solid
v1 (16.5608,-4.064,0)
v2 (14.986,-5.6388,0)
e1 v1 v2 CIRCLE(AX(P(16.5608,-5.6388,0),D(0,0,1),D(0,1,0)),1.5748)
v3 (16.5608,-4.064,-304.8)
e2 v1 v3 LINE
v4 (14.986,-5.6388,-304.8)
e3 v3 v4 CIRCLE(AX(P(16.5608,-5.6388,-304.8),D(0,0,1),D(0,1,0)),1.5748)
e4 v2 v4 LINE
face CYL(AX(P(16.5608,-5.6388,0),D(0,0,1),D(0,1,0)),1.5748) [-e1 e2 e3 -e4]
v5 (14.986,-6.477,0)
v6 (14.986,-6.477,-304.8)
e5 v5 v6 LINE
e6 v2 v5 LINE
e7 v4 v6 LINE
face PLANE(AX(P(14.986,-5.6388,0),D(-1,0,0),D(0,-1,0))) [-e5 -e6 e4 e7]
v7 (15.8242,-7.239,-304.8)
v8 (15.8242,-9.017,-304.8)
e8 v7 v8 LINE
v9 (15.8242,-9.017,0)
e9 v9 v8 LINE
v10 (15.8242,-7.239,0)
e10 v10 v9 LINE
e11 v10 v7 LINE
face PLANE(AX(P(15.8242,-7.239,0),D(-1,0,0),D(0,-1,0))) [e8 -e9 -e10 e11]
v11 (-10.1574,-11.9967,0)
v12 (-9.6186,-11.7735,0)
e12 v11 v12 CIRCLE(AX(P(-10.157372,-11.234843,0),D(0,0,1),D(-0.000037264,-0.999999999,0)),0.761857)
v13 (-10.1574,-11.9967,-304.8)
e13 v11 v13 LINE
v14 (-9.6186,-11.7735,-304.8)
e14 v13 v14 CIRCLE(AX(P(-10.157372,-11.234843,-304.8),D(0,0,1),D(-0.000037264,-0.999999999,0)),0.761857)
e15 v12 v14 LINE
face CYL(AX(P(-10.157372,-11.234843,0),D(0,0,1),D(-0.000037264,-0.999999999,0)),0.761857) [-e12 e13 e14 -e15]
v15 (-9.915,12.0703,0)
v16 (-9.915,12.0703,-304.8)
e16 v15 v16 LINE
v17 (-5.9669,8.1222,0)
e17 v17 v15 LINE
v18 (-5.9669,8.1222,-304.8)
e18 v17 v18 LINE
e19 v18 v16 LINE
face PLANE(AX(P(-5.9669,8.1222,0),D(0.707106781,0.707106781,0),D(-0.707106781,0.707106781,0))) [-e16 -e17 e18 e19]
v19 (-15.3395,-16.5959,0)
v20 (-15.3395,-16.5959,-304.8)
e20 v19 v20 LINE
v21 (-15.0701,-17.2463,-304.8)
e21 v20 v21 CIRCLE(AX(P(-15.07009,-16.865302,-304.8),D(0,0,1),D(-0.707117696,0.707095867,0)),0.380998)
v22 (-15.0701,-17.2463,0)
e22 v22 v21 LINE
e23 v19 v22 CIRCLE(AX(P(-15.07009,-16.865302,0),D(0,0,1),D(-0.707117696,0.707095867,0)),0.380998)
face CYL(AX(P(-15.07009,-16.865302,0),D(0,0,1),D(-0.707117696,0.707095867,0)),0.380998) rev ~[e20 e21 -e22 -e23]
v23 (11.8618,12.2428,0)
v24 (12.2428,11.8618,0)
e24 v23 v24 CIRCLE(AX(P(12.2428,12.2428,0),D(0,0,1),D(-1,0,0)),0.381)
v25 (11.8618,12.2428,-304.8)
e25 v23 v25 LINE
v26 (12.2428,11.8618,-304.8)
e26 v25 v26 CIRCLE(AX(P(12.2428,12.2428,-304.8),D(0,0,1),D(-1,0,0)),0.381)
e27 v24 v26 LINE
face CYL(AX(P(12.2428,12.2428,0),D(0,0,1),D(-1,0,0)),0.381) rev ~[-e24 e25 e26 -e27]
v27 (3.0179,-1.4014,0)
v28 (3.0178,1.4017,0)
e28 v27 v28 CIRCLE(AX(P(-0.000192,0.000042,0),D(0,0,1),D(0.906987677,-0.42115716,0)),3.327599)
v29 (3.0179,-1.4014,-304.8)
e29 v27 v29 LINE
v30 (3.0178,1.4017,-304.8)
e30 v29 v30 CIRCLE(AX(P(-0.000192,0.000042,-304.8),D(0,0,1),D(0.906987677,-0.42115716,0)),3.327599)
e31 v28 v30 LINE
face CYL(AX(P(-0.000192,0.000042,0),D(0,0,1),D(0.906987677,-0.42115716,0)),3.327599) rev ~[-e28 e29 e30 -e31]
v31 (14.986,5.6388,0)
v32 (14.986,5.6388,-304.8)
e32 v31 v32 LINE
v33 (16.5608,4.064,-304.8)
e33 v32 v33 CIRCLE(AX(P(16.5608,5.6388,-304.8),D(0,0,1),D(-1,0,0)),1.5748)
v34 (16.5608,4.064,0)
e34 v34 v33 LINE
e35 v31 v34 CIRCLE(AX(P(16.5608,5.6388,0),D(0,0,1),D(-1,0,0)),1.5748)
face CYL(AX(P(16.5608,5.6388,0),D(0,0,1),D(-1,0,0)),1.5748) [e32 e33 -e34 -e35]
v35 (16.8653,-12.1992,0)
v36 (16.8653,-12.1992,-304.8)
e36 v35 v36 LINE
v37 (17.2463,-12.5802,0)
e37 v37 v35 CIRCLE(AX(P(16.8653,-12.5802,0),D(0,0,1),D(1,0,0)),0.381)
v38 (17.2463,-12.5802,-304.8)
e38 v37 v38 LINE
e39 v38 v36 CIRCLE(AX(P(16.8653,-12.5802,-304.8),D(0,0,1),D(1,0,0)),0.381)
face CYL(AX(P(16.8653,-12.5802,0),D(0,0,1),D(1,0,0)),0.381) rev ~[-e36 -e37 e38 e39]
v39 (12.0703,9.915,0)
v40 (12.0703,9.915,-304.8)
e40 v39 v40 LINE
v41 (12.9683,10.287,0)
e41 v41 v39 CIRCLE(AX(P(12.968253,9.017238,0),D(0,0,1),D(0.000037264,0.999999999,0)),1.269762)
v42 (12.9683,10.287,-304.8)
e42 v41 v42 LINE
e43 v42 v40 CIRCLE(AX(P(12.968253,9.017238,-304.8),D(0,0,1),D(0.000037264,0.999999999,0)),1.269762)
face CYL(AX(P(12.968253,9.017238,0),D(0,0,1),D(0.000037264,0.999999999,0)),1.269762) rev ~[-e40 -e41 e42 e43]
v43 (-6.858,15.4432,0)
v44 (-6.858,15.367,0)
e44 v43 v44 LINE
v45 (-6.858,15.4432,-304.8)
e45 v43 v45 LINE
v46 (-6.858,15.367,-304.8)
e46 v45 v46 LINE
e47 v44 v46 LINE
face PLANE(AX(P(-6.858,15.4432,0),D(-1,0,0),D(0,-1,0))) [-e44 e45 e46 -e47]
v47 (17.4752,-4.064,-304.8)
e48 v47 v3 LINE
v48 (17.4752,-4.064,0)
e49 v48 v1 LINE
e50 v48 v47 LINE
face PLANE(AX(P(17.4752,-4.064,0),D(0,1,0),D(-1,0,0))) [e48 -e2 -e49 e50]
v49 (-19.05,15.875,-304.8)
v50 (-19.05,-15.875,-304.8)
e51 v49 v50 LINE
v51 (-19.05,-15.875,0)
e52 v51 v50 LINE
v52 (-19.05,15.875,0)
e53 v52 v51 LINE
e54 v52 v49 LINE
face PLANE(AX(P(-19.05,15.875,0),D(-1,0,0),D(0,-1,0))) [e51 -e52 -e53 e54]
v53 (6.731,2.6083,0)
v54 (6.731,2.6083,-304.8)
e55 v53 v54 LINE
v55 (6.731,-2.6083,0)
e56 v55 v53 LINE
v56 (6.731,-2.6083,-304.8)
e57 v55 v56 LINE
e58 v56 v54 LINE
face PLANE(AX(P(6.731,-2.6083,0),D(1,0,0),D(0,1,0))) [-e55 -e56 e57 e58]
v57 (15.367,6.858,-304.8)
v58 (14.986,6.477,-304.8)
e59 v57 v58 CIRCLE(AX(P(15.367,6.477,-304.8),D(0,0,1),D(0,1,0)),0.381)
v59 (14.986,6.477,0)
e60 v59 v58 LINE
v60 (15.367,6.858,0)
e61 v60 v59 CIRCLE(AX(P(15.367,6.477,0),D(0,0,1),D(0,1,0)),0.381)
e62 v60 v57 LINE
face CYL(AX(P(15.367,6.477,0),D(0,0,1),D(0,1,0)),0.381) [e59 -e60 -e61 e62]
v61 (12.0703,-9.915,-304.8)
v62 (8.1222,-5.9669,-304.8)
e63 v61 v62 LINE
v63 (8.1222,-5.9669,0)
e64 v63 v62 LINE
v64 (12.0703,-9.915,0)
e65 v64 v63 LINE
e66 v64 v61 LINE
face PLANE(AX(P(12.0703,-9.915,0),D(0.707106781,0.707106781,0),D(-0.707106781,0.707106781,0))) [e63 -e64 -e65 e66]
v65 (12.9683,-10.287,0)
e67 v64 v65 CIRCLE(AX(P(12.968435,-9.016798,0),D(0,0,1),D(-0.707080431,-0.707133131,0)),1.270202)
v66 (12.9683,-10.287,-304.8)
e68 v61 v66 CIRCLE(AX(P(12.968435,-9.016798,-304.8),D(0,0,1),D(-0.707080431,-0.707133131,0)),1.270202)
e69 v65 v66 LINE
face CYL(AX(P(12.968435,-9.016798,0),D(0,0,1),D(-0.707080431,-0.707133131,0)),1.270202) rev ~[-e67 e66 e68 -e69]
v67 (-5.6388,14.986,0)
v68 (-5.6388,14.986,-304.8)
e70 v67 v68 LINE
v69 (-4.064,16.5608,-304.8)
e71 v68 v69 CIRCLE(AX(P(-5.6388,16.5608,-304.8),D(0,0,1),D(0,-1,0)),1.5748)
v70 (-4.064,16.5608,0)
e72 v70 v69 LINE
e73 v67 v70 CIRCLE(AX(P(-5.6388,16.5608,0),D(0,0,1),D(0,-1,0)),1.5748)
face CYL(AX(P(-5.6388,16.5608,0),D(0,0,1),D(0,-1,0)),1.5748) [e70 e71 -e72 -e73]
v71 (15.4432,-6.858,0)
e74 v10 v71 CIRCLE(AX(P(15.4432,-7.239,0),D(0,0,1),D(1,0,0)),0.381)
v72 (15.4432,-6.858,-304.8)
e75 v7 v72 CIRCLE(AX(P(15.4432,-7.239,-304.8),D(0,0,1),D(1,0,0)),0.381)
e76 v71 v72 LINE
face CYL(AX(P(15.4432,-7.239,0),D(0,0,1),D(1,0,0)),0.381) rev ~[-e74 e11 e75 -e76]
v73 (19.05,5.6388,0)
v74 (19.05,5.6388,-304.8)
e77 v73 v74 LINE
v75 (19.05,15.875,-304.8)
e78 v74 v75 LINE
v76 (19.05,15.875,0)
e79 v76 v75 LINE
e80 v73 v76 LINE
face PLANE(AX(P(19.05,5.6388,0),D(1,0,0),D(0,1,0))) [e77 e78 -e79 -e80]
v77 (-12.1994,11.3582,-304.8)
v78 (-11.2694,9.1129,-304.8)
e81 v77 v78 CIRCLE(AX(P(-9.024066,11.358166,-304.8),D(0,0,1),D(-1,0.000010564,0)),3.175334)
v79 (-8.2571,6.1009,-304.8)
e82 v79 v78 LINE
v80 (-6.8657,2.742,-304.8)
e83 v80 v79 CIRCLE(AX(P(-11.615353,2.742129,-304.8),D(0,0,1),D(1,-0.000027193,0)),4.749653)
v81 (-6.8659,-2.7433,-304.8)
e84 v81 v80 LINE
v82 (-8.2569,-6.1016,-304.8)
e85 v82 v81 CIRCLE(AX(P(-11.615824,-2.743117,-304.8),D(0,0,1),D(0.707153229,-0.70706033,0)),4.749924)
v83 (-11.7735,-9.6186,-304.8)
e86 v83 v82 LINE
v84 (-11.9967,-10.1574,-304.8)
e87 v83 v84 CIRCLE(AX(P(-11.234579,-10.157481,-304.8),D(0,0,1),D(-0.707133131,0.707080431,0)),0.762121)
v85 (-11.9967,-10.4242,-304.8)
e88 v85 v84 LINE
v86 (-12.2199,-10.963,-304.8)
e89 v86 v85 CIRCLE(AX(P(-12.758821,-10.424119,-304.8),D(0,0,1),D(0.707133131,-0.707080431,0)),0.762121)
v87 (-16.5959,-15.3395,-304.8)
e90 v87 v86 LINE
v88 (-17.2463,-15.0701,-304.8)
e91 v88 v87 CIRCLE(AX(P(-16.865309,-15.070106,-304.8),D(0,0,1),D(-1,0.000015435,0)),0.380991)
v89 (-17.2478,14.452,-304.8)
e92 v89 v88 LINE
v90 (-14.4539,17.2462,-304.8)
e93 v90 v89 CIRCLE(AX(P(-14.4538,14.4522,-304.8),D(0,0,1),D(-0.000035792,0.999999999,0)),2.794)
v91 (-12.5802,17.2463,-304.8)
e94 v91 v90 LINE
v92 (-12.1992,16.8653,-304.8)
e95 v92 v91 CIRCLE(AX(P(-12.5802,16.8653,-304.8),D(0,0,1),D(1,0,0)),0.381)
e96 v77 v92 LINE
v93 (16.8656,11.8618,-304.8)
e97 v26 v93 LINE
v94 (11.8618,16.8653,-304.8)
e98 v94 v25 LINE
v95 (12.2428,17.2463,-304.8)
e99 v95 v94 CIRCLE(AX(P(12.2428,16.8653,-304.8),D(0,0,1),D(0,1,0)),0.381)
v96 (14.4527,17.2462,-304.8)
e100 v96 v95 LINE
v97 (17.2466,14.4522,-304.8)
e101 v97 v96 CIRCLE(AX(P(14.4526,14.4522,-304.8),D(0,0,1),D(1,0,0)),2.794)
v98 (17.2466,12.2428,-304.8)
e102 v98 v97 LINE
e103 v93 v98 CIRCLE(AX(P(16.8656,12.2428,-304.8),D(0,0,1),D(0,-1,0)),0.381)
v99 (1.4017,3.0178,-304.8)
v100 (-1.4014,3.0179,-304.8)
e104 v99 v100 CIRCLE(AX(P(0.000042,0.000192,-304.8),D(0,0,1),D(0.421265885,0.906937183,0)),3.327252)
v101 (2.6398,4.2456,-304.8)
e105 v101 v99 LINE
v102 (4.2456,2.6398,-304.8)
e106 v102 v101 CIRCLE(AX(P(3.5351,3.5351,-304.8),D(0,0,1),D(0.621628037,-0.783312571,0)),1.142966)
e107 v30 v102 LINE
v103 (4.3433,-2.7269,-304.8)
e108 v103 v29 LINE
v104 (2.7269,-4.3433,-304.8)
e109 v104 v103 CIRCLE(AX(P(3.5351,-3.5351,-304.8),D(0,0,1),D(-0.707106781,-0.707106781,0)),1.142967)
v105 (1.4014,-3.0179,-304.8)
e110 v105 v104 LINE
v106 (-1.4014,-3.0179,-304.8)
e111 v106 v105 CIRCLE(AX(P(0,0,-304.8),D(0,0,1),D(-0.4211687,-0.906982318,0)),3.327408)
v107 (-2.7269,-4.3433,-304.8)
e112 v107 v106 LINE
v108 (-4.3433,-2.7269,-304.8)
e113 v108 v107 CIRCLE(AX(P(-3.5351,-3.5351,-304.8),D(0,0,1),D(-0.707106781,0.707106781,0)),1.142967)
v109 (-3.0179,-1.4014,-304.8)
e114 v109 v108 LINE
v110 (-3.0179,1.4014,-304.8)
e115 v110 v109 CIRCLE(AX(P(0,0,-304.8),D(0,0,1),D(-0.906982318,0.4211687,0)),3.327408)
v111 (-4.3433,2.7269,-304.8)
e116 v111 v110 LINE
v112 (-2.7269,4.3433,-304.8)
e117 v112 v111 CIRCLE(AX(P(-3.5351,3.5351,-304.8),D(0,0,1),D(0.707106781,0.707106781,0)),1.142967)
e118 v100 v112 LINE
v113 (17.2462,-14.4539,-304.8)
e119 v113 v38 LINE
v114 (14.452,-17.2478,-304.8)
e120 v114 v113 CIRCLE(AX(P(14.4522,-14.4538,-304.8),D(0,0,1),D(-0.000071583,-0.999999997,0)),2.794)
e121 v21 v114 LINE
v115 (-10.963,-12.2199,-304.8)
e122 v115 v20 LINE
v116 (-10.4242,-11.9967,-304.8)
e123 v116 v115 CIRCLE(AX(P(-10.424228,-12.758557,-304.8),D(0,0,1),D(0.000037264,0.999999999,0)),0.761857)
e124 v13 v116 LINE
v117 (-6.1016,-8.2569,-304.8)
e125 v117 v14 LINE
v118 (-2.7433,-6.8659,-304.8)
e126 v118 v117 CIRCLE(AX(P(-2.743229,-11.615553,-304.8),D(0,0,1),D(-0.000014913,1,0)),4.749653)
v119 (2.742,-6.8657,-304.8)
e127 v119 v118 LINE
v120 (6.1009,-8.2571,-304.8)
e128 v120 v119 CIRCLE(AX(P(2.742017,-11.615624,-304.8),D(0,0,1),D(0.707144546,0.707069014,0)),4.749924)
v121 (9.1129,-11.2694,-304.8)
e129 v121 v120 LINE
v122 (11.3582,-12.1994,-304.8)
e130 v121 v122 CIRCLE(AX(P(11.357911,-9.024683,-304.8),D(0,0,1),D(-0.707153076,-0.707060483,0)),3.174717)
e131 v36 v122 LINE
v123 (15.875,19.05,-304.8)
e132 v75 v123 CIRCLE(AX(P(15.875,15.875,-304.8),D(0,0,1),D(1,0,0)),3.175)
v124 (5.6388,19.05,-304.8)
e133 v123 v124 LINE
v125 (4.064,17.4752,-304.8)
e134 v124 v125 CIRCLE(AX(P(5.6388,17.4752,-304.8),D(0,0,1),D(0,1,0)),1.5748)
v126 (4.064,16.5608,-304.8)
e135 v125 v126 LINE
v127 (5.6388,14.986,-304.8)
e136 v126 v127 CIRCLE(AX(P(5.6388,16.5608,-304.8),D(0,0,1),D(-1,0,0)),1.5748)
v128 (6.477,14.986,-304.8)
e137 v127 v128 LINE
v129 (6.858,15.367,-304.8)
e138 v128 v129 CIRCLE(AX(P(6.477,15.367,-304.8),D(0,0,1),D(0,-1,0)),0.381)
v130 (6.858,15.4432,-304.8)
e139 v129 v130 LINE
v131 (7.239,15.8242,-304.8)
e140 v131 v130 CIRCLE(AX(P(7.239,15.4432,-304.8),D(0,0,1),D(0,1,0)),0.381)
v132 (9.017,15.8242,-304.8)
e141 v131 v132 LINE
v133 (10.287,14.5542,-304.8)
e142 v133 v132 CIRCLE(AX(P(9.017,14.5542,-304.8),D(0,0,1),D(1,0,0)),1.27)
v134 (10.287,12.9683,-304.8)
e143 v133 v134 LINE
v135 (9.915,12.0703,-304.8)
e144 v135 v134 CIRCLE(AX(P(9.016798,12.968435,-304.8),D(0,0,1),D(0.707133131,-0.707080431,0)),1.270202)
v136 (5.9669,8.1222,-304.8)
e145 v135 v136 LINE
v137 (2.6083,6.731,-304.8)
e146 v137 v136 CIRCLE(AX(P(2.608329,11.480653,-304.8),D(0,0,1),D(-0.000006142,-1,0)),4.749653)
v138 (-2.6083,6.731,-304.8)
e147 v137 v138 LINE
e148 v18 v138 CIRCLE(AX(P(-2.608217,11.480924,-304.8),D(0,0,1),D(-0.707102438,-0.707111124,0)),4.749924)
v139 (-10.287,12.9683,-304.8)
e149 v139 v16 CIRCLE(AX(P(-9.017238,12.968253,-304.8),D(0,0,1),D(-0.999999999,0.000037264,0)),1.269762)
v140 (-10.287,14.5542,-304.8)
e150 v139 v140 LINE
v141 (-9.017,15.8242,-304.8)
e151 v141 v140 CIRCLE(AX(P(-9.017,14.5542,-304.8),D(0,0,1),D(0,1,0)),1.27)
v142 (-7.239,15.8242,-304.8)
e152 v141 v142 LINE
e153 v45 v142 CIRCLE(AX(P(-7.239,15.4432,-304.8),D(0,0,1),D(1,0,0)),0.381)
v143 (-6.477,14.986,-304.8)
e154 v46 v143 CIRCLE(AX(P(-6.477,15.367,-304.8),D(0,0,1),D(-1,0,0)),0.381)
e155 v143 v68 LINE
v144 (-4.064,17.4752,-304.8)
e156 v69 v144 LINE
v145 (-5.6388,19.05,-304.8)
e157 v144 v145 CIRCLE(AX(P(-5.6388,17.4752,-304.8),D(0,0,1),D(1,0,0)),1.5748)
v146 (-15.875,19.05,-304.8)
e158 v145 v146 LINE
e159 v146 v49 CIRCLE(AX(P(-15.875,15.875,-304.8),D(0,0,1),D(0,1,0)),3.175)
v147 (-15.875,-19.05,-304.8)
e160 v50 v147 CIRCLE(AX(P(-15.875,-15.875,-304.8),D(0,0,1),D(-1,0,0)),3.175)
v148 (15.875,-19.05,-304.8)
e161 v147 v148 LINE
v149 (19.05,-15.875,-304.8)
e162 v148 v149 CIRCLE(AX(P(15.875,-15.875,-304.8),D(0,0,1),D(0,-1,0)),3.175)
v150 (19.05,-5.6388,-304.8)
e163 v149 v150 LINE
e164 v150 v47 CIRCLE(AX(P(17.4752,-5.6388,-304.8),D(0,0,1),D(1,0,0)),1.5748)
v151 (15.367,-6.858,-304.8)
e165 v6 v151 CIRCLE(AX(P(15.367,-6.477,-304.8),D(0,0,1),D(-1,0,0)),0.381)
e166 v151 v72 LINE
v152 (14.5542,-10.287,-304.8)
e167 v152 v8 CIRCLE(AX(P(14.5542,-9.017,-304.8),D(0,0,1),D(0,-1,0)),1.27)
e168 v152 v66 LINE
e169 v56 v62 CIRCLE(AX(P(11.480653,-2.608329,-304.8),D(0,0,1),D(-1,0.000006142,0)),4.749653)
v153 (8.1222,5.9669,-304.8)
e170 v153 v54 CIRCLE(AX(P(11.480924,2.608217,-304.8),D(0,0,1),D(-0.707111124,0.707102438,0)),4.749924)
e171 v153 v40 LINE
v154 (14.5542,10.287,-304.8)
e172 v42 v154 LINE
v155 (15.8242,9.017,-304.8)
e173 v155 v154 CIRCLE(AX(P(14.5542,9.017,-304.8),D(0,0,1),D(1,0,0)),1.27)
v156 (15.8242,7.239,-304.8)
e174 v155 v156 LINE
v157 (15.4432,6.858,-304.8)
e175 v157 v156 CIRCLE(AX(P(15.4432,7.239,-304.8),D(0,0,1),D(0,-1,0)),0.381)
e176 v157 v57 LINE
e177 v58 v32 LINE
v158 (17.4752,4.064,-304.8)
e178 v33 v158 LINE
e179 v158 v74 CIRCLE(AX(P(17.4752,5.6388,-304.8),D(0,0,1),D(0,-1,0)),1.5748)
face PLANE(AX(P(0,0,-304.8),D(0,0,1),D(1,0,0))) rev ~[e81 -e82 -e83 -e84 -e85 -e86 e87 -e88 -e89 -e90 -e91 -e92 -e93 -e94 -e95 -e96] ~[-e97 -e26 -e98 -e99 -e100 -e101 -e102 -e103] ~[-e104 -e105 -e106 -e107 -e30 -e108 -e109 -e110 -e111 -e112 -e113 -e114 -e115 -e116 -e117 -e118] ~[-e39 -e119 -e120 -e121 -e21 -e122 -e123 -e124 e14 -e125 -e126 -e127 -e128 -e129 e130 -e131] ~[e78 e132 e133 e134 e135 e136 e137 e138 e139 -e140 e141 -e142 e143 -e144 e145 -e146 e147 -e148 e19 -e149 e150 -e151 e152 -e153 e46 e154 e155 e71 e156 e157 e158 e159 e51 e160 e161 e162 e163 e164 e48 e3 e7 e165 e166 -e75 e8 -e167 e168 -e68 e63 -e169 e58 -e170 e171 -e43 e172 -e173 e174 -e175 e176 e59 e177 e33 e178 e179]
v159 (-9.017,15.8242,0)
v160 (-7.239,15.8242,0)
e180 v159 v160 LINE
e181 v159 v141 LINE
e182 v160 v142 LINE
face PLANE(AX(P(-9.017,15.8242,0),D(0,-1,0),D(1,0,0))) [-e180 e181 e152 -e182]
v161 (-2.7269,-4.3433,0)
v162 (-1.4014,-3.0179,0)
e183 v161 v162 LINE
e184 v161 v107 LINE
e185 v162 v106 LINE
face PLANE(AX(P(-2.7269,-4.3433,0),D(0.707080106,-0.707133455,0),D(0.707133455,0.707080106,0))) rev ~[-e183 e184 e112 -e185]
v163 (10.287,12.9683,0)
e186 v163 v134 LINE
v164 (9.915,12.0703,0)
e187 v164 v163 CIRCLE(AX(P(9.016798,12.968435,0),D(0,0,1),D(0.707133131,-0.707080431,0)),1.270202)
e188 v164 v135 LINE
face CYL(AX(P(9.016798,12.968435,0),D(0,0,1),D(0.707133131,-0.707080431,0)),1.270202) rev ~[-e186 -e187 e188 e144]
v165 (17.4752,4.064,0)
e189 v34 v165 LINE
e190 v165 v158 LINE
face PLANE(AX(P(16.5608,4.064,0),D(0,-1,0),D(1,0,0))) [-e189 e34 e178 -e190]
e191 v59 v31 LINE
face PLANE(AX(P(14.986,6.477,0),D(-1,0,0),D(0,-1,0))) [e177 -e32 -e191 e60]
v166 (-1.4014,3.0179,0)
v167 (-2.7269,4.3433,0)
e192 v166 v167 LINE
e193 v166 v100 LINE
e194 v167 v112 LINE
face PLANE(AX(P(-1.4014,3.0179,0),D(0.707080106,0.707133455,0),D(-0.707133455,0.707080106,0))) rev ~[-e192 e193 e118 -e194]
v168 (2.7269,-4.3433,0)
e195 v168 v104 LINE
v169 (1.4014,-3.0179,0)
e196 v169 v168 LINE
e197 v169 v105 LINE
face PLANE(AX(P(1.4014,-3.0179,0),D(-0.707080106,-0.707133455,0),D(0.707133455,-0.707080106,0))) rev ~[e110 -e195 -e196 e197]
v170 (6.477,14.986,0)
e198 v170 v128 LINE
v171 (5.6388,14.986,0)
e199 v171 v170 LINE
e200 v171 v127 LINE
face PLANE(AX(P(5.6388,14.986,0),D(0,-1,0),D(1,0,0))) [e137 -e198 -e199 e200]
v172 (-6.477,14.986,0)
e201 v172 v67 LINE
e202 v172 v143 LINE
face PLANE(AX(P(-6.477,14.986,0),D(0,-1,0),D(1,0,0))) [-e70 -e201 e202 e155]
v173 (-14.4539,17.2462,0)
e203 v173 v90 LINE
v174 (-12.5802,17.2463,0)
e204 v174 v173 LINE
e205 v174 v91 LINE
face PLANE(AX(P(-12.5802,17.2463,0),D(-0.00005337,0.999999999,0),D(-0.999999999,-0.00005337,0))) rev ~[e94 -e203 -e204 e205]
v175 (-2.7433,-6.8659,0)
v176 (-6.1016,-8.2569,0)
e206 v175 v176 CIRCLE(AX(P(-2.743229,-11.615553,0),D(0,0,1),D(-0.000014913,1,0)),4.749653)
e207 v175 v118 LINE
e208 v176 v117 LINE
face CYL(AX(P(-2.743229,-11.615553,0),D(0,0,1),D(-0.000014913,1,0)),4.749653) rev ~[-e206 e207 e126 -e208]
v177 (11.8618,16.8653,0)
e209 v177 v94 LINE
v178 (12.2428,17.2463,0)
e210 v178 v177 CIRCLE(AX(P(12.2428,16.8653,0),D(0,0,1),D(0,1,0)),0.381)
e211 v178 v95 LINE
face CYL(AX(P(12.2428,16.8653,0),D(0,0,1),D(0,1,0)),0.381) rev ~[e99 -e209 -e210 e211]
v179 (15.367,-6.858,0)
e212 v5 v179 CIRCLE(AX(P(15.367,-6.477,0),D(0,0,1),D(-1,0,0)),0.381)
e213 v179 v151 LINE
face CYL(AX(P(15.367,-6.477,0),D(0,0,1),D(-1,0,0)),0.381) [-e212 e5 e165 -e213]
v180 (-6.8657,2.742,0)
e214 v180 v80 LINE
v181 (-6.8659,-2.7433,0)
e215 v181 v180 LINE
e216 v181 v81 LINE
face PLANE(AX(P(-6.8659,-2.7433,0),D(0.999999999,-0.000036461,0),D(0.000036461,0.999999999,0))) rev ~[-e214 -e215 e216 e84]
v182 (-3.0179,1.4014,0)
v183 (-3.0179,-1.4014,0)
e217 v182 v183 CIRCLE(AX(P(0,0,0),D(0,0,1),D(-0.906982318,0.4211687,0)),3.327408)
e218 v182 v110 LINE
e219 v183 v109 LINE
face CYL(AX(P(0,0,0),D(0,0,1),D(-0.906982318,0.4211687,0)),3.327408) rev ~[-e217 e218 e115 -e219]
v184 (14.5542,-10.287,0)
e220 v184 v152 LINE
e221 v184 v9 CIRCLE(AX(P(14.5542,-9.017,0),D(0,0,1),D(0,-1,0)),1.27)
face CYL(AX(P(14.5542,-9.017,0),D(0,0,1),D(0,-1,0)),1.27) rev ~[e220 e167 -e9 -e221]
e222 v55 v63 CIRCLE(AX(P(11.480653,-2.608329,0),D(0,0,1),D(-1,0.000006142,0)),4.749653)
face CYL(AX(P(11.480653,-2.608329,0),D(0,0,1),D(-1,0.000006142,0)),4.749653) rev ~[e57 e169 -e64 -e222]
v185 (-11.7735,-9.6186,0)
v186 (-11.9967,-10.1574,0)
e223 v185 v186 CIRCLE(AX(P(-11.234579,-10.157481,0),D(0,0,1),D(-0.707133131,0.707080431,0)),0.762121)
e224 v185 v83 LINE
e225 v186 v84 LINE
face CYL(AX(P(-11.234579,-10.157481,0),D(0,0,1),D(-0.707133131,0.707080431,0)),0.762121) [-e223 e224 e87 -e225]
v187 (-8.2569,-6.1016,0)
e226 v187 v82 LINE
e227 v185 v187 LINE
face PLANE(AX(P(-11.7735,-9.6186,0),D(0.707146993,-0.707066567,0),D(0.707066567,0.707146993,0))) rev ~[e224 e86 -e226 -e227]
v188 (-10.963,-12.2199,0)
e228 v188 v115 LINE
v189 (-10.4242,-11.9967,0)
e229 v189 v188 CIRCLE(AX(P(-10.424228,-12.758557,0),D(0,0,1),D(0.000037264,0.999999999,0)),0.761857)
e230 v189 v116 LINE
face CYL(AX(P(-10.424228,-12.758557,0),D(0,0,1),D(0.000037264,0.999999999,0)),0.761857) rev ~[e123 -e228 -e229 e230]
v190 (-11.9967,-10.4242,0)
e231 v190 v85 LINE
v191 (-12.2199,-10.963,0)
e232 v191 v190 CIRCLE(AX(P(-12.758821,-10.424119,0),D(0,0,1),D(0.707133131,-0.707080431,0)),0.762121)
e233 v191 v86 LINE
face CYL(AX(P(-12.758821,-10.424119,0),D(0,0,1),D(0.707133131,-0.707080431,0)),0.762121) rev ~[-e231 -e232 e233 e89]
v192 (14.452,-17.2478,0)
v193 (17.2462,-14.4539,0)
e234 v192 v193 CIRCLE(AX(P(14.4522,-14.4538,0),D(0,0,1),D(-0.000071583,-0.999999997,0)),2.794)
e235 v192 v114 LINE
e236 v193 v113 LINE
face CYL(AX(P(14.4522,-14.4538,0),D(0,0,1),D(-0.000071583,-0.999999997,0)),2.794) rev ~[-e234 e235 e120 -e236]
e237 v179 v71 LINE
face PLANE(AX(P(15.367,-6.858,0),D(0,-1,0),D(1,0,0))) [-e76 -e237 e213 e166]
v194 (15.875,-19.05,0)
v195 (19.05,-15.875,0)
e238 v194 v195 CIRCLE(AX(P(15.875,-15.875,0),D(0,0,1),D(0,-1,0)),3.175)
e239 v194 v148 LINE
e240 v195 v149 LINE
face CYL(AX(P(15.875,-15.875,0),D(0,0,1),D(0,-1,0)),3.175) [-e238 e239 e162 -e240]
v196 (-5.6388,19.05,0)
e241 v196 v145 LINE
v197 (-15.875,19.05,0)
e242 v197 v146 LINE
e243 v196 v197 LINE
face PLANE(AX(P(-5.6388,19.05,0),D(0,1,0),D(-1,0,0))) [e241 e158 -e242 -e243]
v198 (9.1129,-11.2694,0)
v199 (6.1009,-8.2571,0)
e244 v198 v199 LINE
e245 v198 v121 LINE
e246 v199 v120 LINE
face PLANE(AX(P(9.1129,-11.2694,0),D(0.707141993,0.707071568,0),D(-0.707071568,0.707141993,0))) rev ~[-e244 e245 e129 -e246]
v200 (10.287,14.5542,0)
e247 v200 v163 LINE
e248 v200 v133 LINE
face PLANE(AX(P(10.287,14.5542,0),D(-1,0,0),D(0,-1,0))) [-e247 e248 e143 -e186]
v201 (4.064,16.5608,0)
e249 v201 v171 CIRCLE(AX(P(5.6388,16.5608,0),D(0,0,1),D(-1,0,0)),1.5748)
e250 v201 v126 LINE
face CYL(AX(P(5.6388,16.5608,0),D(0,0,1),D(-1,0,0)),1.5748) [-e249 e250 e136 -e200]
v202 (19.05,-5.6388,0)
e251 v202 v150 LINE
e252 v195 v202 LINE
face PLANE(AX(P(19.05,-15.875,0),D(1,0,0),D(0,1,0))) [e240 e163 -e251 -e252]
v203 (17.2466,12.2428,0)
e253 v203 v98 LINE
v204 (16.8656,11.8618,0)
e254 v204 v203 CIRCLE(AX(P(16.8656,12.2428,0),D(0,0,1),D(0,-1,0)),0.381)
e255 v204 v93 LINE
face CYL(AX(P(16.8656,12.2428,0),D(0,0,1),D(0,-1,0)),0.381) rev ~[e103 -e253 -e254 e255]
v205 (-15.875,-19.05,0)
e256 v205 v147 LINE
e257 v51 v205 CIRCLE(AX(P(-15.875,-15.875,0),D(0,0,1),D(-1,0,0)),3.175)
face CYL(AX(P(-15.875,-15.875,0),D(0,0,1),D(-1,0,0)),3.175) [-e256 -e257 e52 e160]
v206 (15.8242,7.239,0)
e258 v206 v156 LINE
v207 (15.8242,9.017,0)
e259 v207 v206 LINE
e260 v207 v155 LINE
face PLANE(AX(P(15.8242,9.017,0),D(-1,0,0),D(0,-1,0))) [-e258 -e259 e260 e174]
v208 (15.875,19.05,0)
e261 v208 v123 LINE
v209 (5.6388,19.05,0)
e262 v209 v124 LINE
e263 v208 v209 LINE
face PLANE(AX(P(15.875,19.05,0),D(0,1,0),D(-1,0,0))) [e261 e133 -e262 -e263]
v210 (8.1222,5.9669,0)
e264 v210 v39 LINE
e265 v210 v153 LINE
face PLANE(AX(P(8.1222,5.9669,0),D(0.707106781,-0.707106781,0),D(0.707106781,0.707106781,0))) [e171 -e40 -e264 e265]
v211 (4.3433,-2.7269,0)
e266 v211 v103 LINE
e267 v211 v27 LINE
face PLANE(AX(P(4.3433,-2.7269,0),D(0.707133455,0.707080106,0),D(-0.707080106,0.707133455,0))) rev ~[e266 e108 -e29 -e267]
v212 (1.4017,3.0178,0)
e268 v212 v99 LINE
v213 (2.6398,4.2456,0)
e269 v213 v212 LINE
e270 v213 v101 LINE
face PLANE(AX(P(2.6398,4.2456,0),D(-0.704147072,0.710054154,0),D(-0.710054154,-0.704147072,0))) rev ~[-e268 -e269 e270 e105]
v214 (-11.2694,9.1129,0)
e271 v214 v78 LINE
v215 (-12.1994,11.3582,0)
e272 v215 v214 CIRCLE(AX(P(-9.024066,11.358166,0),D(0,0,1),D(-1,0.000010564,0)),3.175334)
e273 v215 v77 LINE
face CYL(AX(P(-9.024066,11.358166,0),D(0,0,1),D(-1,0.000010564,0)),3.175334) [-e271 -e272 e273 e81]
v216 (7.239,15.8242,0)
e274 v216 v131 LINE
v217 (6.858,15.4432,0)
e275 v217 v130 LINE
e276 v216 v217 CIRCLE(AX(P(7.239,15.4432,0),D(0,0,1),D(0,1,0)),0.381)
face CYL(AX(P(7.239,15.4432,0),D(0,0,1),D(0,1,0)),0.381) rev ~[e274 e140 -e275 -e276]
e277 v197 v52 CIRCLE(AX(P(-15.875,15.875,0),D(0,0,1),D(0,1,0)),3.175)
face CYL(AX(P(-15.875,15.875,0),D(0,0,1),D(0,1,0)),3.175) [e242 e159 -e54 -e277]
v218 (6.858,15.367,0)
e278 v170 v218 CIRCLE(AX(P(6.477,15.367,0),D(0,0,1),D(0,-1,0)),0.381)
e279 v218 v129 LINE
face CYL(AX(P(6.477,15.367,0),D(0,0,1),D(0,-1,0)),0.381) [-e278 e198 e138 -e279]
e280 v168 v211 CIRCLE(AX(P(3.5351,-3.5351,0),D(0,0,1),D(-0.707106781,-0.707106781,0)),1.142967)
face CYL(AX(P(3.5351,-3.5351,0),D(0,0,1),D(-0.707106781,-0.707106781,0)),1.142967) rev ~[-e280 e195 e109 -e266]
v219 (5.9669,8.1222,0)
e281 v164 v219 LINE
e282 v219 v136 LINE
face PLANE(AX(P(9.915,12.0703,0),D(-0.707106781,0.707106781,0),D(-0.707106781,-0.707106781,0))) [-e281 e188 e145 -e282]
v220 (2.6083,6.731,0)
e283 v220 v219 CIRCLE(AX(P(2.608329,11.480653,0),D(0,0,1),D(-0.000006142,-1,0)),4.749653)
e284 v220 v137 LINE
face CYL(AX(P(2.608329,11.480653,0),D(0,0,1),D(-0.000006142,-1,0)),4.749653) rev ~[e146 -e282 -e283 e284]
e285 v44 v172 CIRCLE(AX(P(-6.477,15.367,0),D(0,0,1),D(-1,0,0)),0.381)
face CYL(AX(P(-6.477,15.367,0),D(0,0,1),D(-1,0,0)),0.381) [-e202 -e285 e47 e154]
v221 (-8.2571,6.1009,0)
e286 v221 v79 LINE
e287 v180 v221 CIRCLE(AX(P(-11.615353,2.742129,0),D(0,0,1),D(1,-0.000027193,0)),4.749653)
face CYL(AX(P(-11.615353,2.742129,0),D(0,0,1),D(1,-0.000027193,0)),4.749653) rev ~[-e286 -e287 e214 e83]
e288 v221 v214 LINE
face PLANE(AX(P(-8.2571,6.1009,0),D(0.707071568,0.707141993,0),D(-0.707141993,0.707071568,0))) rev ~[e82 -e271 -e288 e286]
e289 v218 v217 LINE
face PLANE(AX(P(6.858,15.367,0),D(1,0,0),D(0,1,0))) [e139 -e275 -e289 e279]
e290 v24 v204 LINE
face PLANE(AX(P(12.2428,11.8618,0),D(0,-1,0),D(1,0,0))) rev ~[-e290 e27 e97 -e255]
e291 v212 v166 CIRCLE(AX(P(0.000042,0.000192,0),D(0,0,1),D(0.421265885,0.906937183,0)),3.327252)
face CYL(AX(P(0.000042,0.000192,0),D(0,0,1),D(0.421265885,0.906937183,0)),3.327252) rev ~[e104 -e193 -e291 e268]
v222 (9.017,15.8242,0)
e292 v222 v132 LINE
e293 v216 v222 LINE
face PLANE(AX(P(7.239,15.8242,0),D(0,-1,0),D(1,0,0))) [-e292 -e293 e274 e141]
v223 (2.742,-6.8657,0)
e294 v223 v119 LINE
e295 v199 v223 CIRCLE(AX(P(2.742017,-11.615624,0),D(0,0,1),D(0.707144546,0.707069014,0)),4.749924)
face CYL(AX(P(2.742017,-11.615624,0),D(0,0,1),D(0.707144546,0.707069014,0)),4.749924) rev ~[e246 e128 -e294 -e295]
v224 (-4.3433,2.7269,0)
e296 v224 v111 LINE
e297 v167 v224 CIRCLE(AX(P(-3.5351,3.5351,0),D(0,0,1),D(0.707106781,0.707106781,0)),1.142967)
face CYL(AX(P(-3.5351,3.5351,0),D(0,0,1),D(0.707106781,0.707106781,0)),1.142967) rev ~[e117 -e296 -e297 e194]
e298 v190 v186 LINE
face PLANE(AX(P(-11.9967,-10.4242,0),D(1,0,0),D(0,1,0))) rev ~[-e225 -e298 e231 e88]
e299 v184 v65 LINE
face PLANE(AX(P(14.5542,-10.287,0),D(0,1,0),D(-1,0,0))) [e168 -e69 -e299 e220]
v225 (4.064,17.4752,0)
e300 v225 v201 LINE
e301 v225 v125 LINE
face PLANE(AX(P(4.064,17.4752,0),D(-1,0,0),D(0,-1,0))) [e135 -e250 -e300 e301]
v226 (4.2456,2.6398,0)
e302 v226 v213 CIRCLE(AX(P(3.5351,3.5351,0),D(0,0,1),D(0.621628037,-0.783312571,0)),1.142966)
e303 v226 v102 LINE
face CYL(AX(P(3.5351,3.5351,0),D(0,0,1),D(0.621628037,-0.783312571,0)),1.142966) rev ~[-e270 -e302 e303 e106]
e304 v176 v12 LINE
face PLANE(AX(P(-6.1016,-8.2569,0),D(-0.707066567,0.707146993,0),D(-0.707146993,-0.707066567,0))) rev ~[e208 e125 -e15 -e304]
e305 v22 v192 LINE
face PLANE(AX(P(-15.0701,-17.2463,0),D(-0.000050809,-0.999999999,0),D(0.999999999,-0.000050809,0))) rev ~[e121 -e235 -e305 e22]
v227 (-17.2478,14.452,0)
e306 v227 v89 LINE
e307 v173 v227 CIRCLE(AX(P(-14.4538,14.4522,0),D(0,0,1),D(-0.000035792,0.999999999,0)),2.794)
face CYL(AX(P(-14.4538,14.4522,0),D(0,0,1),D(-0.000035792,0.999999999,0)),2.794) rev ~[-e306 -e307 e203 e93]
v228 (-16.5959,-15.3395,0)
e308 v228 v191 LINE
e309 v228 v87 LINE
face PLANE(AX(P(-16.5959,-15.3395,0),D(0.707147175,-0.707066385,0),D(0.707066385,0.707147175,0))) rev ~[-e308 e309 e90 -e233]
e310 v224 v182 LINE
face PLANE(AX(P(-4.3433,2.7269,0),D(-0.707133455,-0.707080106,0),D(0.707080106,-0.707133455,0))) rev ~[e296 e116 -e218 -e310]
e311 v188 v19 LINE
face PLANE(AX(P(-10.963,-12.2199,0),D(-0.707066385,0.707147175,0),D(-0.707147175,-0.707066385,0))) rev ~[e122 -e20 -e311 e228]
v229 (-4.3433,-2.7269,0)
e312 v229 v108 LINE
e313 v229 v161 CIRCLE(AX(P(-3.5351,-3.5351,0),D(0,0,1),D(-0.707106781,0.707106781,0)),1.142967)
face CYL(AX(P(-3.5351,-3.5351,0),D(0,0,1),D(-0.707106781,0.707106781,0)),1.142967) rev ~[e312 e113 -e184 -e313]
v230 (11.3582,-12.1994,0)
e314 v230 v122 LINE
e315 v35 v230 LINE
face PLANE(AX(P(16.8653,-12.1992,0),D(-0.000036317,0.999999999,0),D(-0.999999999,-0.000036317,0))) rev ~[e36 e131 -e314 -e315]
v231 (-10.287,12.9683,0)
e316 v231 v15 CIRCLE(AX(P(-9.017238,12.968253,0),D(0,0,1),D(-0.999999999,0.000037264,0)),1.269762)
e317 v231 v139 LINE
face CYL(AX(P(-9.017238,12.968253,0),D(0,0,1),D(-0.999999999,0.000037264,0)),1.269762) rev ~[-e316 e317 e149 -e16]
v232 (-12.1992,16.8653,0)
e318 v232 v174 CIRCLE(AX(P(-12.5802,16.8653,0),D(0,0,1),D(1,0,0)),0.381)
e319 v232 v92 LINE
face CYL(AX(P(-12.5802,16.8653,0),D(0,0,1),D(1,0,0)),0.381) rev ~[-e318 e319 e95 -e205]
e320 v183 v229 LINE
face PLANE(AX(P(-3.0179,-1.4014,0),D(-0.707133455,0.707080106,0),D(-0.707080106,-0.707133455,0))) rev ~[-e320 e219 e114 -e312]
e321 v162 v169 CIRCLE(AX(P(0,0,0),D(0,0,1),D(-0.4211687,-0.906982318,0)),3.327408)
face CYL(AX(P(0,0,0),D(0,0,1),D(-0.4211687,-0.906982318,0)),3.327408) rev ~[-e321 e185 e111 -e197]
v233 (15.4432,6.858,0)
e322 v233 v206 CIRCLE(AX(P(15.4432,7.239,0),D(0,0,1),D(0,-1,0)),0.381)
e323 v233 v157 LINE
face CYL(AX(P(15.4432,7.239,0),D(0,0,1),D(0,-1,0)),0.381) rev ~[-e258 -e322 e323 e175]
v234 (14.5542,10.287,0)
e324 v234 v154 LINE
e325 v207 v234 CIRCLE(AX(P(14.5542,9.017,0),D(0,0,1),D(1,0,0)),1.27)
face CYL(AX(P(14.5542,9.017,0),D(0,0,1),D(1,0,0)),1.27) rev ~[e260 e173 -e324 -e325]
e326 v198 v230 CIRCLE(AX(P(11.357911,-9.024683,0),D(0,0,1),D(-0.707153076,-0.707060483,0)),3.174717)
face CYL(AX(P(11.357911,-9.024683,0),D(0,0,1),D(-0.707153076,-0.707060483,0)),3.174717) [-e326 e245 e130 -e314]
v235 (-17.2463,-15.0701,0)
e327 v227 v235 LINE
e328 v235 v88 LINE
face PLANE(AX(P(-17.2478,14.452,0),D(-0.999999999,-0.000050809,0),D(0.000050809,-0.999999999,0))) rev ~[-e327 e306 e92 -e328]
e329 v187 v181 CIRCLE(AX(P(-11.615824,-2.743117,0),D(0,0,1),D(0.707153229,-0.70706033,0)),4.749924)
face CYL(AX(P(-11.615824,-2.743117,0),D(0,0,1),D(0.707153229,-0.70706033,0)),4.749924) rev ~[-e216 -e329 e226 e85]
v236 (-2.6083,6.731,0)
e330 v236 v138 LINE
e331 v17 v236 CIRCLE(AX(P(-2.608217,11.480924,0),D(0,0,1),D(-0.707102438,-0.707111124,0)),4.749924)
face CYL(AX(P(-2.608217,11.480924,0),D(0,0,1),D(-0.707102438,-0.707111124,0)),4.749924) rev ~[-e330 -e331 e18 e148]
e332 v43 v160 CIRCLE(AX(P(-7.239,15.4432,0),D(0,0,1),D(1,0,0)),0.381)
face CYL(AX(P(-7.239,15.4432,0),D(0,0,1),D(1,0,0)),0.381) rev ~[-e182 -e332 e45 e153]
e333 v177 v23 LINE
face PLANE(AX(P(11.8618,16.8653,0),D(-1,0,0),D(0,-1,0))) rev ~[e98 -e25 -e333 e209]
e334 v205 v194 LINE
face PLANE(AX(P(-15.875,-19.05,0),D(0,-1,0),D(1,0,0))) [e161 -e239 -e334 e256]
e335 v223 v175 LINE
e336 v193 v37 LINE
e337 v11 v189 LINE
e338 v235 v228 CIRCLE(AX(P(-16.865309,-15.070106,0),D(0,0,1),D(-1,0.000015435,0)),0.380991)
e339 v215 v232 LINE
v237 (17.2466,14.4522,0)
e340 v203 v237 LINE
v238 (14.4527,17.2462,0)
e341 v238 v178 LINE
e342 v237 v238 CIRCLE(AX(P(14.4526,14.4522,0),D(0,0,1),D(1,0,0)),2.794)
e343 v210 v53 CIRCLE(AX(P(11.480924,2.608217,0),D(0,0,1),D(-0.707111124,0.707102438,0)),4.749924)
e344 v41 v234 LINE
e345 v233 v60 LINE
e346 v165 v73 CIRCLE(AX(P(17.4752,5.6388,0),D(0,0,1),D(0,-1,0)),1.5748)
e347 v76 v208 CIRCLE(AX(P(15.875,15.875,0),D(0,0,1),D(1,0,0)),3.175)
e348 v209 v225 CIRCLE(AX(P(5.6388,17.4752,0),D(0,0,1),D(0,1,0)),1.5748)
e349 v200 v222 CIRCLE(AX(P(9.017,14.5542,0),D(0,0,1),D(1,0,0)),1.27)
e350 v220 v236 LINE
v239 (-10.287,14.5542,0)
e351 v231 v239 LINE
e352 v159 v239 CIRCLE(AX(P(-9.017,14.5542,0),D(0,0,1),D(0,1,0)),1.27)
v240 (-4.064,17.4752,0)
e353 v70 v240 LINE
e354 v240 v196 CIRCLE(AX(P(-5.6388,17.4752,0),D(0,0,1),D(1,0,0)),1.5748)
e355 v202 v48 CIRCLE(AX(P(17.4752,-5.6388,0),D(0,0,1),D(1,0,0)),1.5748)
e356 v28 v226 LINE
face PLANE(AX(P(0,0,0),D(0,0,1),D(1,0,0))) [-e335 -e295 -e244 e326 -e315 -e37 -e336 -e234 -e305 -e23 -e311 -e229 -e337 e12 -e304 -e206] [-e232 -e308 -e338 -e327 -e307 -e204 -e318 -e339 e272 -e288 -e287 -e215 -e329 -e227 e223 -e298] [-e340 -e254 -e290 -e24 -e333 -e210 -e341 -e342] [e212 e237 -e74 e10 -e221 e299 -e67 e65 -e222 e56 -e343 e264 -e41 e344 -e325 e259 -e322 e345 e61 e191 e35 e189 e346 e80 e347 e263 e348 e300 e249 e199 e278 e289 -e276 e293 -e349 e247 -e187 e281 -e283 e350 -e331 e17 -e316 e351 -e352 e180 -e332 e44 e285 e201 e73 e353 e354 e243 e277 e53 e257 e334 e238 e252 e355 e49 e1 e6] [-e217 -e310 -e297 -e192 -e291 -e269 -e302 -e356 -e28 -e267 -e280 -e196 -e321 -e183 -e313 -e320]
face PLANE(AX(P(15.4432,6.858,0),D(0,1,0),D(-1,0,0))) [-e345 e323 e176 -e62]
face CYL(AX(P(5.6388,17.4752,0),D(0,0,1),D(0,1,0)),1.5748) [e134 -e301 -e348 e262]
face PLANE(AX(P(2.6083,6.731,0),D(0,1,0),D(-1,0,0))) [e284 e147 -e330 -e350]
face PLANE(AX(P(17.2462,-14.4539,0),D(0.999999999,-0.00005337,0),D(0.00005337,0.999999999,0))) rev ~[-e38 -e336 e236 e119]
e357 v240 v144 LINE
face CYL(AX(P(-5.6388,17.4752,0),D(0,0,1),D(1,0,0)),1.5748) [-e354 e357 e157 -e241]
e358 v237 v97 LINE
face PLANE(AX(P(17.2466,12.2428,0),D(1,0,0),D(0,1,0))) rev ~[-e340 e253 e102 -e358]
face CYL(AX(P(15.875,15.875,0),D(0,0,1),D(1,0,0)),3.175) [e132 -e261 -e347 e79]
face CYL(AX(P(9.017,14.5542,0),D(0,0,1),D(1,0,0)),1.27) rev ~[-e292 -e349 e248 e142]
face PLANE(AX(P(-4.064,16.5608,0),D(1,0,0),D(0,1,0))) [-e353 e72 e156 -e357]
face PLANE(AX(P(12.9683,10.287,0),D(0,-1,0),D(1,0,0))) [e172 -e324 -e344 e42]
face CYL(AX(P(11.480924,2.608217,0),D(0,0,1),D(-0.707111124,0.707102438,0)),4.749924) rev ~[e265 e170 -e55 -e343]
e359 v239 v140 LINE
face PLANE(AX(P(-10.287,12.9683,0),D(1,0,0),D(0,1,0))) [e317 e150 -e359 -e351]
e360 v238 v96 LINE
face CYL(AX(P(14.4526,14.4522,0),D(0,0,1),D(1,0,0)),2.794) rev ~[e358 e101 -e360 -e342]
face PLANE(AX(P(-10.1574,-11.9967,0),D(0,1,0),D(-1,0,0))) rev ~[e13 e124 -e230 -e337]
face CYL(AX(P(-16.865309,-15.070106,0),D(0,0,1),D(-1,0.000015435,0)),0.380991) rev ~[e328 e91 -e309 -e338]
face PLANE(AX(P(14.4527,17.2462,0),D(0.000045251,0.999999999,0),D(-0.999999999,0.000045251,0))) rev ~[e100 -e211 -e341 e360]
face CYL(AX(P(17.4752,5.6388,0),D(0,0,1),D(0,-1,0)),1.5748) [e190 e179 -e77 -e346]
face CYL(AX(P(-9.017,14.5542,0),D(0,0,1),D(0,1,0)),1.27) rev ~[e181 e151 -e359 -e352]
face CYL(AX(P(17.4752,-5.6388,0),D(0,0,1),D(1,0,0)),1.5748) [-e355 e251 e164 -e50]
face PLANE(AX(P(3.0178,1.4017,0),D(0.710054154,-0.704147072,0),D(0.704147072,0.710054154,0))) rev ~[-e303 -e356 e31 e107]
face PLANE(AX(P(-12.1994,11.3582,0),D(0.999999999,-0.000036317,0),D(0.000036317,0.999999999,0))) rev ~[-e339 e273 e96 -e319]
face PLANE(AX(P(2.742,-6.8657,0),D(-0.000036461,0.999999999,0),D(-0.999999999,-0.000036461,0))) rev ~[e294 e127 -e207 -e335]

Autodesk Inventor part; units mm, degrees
ref_plane "YZ Plane" through (0, 0, 0) normal (1, 0, 0) x (0, 1, 0)
ref_plane "XZ Plane" through (0, 0, 0) normal (0, 1, 0) x (-1, 0, 0)
ref_plane "XY Plane" through (0, 0, 0) normal (0, 0, 1) x (1, 0, 0)
sketch "Sketch1" plane through (0, 0, 0) normal (0, 0, 1) x (1, 0, 0)
  arc A0 (11.8618, 12.2428) -> (12.2428, 11.8618) centre (12.2428, 12.2428) ccw
  line L0 (11.8618, 16.8653) -> (11.8618, 12.2428)
  arc A1 (12.2428, 17.2463) -> (11.8618, 16.8653) centre (12.2428, 16.8653) ccw
  line L1 (14.4527, 17.2462) -> (12.2428, 17.2463)
  arc A2 (17.2466, 14.4522) -> (14.4527, 17.2462) centre (14.4526, 14.4522) ccw
  line L2 (17.2466, 12.2428) -> (17.2466, 14.4522)
  arc A3 (16.8656, 11.8618) -> (17.2466, 12.2428) centre (16.8656, 12.2428) ccw
  line L3 (12.2428, 11.8618) -> (16.8656, 11.8618)
  arc A4 (-6.8657, 2.742) -> (-8.2571, 6.1009) centre (-11.6155, 2.7421) ccw
  line L4 (-6.8659, -2.7433) -> (-6.8657, 2.742)
  arc A5 (-8.2569, -6.1016) -> (-6.8659, -2.7433) centre (-11.6157, -2.7432) ccw
  line L5 (-11.7735, -9.6186) -> (-8.2569, -6.1016)
  arc A6 (-11.7735, -9.6186) -> (-11.9967, -10.1574) centre (-11.2347, -10.1574) ccw
  line L6 (-11.9967, -10.4242) -> (-11.9967, -10.1574)
  arc A7 (-12.2199, -10.963) -> (-11.9967, -10.4242) centre (-12.7587, -10.4242) ccw
  line L7 (-16.5959, -15.3395) -> (-12.2199, -10.963)
  arc A8 (-17.2463, -15.0701) -> (-16.5959, -15.3395) centre (-16.8653, -15.0701) ccw
  line L8 (-17.2478, 14.452) -> (-17.2463, -15.0701)
  arc A9 (-14.4539, 17.2462) -> (-17.2478, 14.452) centre (-14.4538, 14.4522) ccw
  line L9 (-12.5802, 17.2463) -> (-14.4539, 17.2462)
  arc A10 (-12.1992, 16.8653) -> (-12.5802, 17.2463) centre (-12.5802, 16.8653) ccw
  line L10 (-12.1994, 11.3582) -> (-12.1992, 16.8653)
  arc A11 (-12.1994, 11.3582) -> (-11.2694, 9.1129) centre (-9.0244, 11.3581) ccw
  line L11 (-8.2571, 6.1009) -> (-11.2694, 9.1129)
  arc A12 (6.1009, -8.2571) -> (2.742, -6.8657) centre (2.7421, -11.6155) ccw
  line L12 (9.1129, -11.2694) -> (6.1009, -8.2571)
  arc A13 (9.1129, -11.2694) -> (11.3582, -12.1994) centre (11.3581, -9.0244) ccw
  line L13 (16.8653, -12.1992) -> (11.3582, -12.1994)
  arc A14 (17.2463, -12.5802) -> (16.8653, -12.1992) centre (16.8653, -12.5802) ccw
  line L14 (17.2462, -14.4539) -> (17.2463, -12.5802)
  arc A15 (14.452, -17.2478) -> (17.2462, -14.4539) centre (14.4522, -14.4538) ccw
  line L15 (-15.0701, -17.2463) -> (14.452, -17.2478)
  arc A16 (-15.3395, -16.5959) -> (-15.0701, -17.2463) centre (-15.0701, -16.8653) ccw
  line L16 (-10.963, -12.2199) -> (-15.3395, -16.5959)
  arc A17 (-10.4242, -11.9967) -> (-10.963, -12.2199) centre (-10.4242, -12.7587) ccw
  line L17 (-10.1574, -11.9967) -> (-10.4242, -11.9967)
  arc A18 (-10.1574, -11.9967) -> (-9.6186, -11.7735) centre (-10.1574, -11.2347) ccw
  line L18 (-6.1016, -8.2569) -> (-9.6186, -11.7735)
  arc A19 (-2.7433, -6.8659) -> (-6.1016, -8.2569) centre (-2.7432, -11.6157) ccw
  line L19 (2.742, -6.8657) -> (-2.7433, -6.8659)
  arc A20 (3.0179, -1.4014) -> (3.0178, 1.4017) centre (0, 0) ccw
  line L20 (4.3433, -2.7269) -> (3.0179, -1.4014)
  arc A21 (2.7269, -4.3433) -> (4.3433, -2.7269) centre (3.5351, -3.5351) ccw
  line L21 (1.4014, -3.0179) -> (2.7269, -4.3433)
  arc A22 (-1.4014, -3.0179) -> (1.4014, -3.0179) centre (0, 0) ccw
  line L22 (-2.7269, -4.3433) -> (-1.4014, -3.0179)
  arc A23 (-4.3433, -2.7269) -> (-2.7269, -4.3433) centre (-3.5351, -3.5351) ccw
  line L23 (-3.0179, -1.4014) -> (-4.3433, -2.7269)
  arc A24 (-3.0179, 1.4014) -> (-3.0179, -1.4014) centre (0, 0) ccw
  line L24 (-4.3433, 2.7269) -> (-3.0179, 1.4014)
  arc A25 (-2.7269, 4.3433) -> (-4.3433, 2.7269) centre (-3.5351, 3.5351) ccw
  line L25 (-1.4014, 3.0179) -> (-2.7269, 4.3433)
  arc A26 (1.4017, 3.0178) -> (-1.4014, 3.0179) centre (0, 0) ccw
  line L26 (2.6398, 4.2456) -> (1.4017, 3.0178)
  arc A27 (4.2456, 2.6398) -> (2.6398, 4.2456) centre (3.5351, 3.5351) ccw
  line L27 (3.0178, 1.4017) -> (4.2456, 2.6398)
  arc A28 (-6.858, 15.367) -> (-6.477, 14.986) centre (-6.477, 15.367) ccw
  line L28 (-6.477, 14.986) -> (-5.6388, 14.986)
  arc A29 (-5.6388, 14.986) -> (-4.064, 16.5608) centre (-5.6388, 16.5608) ccw
  line L29 (-4.064, 16.5608) -> (-4.064, 17.4752)
  arc A30 (-4.064, 17.4752) -> (-5.6388, 19.05) centre (-5.6388, 17.4752) ccw
  line L30 (-5.6388, 19.05) -> (-15.875, 19.05)
  arc A31 (-15.875, 19.05) -> (-19.05, 15.875) centre (-15.875, 15.875) ccw
  line L31 (-19.05, 15.875) -> (-19.05, -15.875)
  arc A32 (-19.05, -15.875) -> (-15.875, -19.05) centre (-15.875, -15.875) ccw
  line L32 (-15.875, -19.05) -> (15.875, -19.05)
  arc A33 (15.875, -19.05) -> (19.05, -15.875) centre (15.875, -15.875) ccw
  line L33 (19.05, -15.875) -> (19.05, -5.6388)
  arc A34 (19.05, -5.6388) -> (17.4752, -4.064) centre (17.4752, -5.6388) ccw
  line L34 (17.4752, -4.064) -> (16.5608, -4.064)
  arc A35 (16.5608, -4.064) -> (14.986, -5.6388) centre (16.5608, -5.6388) ccw
  line L35 (14.986, -5.6388) -> (14.986, -6.477)
  arc A36 (14.986, -6.477) -> (15.367, -6.858) centre (15.367, -6.477) ccw
  line L36 (15.367, -6.858) -> (15.4432, -6.858)
  arc A37 (15.8242, -7.239) -> (15.4432, -6.858) centre (15.4432, -7.239) ccw
  line L37 (15.8242, -7.239) -> (15.8242, -9.017)
  arc A38 (14.5542, -10.287) -> (15.8242, -9.017) centre (14.5542, -9.017) ccw
  line L38 (14.5542, -10.287) -> (12.9683, -10.287)
  arc A39 (12.0703, -9.915) -> (12.9683, -10.287) centre (12.9683, -9.017) ccw
  line L39 (12.0703, -9.915) -> (8.1222, -5.9669)
  arc A40 (6.731, -2.6083) -> (8.1222, -5.9669) centre (11.4808, -2.6083) ccw
  line L40 (6.731, -2.6083) -> (6.731, 2.6083)
  arc A41 (8.1222, 5.9669) -> (6.731, 2.6083) centre (11.4808, 2.6083) ccw
  line L41 (8.1222, 5.9669) -> (12.0703, 9.915)
  arc A42 (12.9683, 10.287) -> (12.0703, 9.915) centre (12.9683, 9.017) ccw
  line L42 (12.9683, 10.287) -> (14.5542, 10.287)
  arc A43 (15.8242, 9.017) -> (14.5542, 10.287) centre (14.5542, 9.017) ccw
  line L43 (15.8242, 9.017) -> (15.8242, 7.239)
  arc A44 (15.4432, 6.858) -> (15.8242, 7.239) centre (15.4432, 7.239) ccw
  line L44 (15.4432, 6.858) -> (15.367, 6.858)
  arc A45 (15.367, 6.858) -> (14.986, 6.477) centre (15.367, 6.477) ccw
  line L45 (14.986, 6.477) -> (14.986, 5.6388)
  arc A46 (14.986, 5.6388) -> (16.5608, 4.064) centre (16.5608, 5.6388) ccw
  line L46 (16.5608, 4.064) -> (17.4752, 4.064)
  arc A47 (17.4752, 4.064) -> (19.05, 5.6388) centre (17.4752, 5.6388) ccw
  line L47 (19.05, 5.6388) -> (19.05, 15.875)
  arc A48 (19.05, 15.875) -> (15.875, 19.05) centre (15.875, 15.875) ccw
  line L48 (15.875, 19.05) -> (5.6388, 19.05)
  arc A49 (5.6388, 19.05) -> (4.064, 17.4752) centre (5.6388, 17.4752) ccw
  line L49 (4.064, 17.4752) -> (4.064, 16.5608)
  arc A50 (4.064, 16.5608) -> (5.6388, 14.986) centre (5.6388, 16.5608) ccw
  line L50 (5.6388, 14.986) -> (6.477, 14.986)
  arc A51 (6.477, 14.986) -> (6.858, 15.367) centre (6.477, 15.367) ccw
  line L51 (6.858, 15.367) -> (6.858, 15.4432)
  arc A52 (7.239, 15.8242) -> (6.858, 15.4432) centre (7.239, 15.4432) ccw
  line L52 (7.239, 15.8242) -> (9.017, 15.8242)
  arc A53 (10.287, 14.5542) -> (9.017, 15.8242) centre (9.017, 14.5542) ccw
  line L53 (10.287, 14.5542) -> (10.287, 12.9683)
  arc A54 (9.915, 12.0703) -> (10.287, 12.9683) centre (9.017, 12.9683) ccw
  line L54 (9.915, 12.0703) -> (5.9669, 8.1222)
  arc A55 (2.6083, 6.731) -> (5.9669, 8.1222) centre (2.6083, 11.4808) ccw
  line L55 (2.6083, 6.731) -> (-2.6083, 6.731)
  arc A56 (-5.9669, 8.1222) -> (-2.6083, 6.731) centre (-2.6083, 11.4808) ccw
  line L56 (-5.9669, 8.1222) -> (-9.915, 12.0703)
  arc A57 (-10.287, 12.9683) -> (-9.915, 12.0703) centre (-9.017, 12.9683) ccw
  line L57 (-10.287, 12.9683) -> (-10.287, 14.5542)
  arc A58 (-9.017, 15.8242) -> (-10.287, 14.5542) centre (-9.017, 14.5542) ccw
  line L58 (-9.017, 15.8242) -> (-7.239, 15.8242)
  arc A59 (-6.858, 15.4432) -> (-7.239, 15.8242) centre (-7.239, 15.4432) ccw
  line L59 (-6.858, 15.4432) -> (-6.858, 15.367)
extrude "Extrusion1" add sketch "Sketch1" against normal blind 304.8
properties part number "1502-LS"
